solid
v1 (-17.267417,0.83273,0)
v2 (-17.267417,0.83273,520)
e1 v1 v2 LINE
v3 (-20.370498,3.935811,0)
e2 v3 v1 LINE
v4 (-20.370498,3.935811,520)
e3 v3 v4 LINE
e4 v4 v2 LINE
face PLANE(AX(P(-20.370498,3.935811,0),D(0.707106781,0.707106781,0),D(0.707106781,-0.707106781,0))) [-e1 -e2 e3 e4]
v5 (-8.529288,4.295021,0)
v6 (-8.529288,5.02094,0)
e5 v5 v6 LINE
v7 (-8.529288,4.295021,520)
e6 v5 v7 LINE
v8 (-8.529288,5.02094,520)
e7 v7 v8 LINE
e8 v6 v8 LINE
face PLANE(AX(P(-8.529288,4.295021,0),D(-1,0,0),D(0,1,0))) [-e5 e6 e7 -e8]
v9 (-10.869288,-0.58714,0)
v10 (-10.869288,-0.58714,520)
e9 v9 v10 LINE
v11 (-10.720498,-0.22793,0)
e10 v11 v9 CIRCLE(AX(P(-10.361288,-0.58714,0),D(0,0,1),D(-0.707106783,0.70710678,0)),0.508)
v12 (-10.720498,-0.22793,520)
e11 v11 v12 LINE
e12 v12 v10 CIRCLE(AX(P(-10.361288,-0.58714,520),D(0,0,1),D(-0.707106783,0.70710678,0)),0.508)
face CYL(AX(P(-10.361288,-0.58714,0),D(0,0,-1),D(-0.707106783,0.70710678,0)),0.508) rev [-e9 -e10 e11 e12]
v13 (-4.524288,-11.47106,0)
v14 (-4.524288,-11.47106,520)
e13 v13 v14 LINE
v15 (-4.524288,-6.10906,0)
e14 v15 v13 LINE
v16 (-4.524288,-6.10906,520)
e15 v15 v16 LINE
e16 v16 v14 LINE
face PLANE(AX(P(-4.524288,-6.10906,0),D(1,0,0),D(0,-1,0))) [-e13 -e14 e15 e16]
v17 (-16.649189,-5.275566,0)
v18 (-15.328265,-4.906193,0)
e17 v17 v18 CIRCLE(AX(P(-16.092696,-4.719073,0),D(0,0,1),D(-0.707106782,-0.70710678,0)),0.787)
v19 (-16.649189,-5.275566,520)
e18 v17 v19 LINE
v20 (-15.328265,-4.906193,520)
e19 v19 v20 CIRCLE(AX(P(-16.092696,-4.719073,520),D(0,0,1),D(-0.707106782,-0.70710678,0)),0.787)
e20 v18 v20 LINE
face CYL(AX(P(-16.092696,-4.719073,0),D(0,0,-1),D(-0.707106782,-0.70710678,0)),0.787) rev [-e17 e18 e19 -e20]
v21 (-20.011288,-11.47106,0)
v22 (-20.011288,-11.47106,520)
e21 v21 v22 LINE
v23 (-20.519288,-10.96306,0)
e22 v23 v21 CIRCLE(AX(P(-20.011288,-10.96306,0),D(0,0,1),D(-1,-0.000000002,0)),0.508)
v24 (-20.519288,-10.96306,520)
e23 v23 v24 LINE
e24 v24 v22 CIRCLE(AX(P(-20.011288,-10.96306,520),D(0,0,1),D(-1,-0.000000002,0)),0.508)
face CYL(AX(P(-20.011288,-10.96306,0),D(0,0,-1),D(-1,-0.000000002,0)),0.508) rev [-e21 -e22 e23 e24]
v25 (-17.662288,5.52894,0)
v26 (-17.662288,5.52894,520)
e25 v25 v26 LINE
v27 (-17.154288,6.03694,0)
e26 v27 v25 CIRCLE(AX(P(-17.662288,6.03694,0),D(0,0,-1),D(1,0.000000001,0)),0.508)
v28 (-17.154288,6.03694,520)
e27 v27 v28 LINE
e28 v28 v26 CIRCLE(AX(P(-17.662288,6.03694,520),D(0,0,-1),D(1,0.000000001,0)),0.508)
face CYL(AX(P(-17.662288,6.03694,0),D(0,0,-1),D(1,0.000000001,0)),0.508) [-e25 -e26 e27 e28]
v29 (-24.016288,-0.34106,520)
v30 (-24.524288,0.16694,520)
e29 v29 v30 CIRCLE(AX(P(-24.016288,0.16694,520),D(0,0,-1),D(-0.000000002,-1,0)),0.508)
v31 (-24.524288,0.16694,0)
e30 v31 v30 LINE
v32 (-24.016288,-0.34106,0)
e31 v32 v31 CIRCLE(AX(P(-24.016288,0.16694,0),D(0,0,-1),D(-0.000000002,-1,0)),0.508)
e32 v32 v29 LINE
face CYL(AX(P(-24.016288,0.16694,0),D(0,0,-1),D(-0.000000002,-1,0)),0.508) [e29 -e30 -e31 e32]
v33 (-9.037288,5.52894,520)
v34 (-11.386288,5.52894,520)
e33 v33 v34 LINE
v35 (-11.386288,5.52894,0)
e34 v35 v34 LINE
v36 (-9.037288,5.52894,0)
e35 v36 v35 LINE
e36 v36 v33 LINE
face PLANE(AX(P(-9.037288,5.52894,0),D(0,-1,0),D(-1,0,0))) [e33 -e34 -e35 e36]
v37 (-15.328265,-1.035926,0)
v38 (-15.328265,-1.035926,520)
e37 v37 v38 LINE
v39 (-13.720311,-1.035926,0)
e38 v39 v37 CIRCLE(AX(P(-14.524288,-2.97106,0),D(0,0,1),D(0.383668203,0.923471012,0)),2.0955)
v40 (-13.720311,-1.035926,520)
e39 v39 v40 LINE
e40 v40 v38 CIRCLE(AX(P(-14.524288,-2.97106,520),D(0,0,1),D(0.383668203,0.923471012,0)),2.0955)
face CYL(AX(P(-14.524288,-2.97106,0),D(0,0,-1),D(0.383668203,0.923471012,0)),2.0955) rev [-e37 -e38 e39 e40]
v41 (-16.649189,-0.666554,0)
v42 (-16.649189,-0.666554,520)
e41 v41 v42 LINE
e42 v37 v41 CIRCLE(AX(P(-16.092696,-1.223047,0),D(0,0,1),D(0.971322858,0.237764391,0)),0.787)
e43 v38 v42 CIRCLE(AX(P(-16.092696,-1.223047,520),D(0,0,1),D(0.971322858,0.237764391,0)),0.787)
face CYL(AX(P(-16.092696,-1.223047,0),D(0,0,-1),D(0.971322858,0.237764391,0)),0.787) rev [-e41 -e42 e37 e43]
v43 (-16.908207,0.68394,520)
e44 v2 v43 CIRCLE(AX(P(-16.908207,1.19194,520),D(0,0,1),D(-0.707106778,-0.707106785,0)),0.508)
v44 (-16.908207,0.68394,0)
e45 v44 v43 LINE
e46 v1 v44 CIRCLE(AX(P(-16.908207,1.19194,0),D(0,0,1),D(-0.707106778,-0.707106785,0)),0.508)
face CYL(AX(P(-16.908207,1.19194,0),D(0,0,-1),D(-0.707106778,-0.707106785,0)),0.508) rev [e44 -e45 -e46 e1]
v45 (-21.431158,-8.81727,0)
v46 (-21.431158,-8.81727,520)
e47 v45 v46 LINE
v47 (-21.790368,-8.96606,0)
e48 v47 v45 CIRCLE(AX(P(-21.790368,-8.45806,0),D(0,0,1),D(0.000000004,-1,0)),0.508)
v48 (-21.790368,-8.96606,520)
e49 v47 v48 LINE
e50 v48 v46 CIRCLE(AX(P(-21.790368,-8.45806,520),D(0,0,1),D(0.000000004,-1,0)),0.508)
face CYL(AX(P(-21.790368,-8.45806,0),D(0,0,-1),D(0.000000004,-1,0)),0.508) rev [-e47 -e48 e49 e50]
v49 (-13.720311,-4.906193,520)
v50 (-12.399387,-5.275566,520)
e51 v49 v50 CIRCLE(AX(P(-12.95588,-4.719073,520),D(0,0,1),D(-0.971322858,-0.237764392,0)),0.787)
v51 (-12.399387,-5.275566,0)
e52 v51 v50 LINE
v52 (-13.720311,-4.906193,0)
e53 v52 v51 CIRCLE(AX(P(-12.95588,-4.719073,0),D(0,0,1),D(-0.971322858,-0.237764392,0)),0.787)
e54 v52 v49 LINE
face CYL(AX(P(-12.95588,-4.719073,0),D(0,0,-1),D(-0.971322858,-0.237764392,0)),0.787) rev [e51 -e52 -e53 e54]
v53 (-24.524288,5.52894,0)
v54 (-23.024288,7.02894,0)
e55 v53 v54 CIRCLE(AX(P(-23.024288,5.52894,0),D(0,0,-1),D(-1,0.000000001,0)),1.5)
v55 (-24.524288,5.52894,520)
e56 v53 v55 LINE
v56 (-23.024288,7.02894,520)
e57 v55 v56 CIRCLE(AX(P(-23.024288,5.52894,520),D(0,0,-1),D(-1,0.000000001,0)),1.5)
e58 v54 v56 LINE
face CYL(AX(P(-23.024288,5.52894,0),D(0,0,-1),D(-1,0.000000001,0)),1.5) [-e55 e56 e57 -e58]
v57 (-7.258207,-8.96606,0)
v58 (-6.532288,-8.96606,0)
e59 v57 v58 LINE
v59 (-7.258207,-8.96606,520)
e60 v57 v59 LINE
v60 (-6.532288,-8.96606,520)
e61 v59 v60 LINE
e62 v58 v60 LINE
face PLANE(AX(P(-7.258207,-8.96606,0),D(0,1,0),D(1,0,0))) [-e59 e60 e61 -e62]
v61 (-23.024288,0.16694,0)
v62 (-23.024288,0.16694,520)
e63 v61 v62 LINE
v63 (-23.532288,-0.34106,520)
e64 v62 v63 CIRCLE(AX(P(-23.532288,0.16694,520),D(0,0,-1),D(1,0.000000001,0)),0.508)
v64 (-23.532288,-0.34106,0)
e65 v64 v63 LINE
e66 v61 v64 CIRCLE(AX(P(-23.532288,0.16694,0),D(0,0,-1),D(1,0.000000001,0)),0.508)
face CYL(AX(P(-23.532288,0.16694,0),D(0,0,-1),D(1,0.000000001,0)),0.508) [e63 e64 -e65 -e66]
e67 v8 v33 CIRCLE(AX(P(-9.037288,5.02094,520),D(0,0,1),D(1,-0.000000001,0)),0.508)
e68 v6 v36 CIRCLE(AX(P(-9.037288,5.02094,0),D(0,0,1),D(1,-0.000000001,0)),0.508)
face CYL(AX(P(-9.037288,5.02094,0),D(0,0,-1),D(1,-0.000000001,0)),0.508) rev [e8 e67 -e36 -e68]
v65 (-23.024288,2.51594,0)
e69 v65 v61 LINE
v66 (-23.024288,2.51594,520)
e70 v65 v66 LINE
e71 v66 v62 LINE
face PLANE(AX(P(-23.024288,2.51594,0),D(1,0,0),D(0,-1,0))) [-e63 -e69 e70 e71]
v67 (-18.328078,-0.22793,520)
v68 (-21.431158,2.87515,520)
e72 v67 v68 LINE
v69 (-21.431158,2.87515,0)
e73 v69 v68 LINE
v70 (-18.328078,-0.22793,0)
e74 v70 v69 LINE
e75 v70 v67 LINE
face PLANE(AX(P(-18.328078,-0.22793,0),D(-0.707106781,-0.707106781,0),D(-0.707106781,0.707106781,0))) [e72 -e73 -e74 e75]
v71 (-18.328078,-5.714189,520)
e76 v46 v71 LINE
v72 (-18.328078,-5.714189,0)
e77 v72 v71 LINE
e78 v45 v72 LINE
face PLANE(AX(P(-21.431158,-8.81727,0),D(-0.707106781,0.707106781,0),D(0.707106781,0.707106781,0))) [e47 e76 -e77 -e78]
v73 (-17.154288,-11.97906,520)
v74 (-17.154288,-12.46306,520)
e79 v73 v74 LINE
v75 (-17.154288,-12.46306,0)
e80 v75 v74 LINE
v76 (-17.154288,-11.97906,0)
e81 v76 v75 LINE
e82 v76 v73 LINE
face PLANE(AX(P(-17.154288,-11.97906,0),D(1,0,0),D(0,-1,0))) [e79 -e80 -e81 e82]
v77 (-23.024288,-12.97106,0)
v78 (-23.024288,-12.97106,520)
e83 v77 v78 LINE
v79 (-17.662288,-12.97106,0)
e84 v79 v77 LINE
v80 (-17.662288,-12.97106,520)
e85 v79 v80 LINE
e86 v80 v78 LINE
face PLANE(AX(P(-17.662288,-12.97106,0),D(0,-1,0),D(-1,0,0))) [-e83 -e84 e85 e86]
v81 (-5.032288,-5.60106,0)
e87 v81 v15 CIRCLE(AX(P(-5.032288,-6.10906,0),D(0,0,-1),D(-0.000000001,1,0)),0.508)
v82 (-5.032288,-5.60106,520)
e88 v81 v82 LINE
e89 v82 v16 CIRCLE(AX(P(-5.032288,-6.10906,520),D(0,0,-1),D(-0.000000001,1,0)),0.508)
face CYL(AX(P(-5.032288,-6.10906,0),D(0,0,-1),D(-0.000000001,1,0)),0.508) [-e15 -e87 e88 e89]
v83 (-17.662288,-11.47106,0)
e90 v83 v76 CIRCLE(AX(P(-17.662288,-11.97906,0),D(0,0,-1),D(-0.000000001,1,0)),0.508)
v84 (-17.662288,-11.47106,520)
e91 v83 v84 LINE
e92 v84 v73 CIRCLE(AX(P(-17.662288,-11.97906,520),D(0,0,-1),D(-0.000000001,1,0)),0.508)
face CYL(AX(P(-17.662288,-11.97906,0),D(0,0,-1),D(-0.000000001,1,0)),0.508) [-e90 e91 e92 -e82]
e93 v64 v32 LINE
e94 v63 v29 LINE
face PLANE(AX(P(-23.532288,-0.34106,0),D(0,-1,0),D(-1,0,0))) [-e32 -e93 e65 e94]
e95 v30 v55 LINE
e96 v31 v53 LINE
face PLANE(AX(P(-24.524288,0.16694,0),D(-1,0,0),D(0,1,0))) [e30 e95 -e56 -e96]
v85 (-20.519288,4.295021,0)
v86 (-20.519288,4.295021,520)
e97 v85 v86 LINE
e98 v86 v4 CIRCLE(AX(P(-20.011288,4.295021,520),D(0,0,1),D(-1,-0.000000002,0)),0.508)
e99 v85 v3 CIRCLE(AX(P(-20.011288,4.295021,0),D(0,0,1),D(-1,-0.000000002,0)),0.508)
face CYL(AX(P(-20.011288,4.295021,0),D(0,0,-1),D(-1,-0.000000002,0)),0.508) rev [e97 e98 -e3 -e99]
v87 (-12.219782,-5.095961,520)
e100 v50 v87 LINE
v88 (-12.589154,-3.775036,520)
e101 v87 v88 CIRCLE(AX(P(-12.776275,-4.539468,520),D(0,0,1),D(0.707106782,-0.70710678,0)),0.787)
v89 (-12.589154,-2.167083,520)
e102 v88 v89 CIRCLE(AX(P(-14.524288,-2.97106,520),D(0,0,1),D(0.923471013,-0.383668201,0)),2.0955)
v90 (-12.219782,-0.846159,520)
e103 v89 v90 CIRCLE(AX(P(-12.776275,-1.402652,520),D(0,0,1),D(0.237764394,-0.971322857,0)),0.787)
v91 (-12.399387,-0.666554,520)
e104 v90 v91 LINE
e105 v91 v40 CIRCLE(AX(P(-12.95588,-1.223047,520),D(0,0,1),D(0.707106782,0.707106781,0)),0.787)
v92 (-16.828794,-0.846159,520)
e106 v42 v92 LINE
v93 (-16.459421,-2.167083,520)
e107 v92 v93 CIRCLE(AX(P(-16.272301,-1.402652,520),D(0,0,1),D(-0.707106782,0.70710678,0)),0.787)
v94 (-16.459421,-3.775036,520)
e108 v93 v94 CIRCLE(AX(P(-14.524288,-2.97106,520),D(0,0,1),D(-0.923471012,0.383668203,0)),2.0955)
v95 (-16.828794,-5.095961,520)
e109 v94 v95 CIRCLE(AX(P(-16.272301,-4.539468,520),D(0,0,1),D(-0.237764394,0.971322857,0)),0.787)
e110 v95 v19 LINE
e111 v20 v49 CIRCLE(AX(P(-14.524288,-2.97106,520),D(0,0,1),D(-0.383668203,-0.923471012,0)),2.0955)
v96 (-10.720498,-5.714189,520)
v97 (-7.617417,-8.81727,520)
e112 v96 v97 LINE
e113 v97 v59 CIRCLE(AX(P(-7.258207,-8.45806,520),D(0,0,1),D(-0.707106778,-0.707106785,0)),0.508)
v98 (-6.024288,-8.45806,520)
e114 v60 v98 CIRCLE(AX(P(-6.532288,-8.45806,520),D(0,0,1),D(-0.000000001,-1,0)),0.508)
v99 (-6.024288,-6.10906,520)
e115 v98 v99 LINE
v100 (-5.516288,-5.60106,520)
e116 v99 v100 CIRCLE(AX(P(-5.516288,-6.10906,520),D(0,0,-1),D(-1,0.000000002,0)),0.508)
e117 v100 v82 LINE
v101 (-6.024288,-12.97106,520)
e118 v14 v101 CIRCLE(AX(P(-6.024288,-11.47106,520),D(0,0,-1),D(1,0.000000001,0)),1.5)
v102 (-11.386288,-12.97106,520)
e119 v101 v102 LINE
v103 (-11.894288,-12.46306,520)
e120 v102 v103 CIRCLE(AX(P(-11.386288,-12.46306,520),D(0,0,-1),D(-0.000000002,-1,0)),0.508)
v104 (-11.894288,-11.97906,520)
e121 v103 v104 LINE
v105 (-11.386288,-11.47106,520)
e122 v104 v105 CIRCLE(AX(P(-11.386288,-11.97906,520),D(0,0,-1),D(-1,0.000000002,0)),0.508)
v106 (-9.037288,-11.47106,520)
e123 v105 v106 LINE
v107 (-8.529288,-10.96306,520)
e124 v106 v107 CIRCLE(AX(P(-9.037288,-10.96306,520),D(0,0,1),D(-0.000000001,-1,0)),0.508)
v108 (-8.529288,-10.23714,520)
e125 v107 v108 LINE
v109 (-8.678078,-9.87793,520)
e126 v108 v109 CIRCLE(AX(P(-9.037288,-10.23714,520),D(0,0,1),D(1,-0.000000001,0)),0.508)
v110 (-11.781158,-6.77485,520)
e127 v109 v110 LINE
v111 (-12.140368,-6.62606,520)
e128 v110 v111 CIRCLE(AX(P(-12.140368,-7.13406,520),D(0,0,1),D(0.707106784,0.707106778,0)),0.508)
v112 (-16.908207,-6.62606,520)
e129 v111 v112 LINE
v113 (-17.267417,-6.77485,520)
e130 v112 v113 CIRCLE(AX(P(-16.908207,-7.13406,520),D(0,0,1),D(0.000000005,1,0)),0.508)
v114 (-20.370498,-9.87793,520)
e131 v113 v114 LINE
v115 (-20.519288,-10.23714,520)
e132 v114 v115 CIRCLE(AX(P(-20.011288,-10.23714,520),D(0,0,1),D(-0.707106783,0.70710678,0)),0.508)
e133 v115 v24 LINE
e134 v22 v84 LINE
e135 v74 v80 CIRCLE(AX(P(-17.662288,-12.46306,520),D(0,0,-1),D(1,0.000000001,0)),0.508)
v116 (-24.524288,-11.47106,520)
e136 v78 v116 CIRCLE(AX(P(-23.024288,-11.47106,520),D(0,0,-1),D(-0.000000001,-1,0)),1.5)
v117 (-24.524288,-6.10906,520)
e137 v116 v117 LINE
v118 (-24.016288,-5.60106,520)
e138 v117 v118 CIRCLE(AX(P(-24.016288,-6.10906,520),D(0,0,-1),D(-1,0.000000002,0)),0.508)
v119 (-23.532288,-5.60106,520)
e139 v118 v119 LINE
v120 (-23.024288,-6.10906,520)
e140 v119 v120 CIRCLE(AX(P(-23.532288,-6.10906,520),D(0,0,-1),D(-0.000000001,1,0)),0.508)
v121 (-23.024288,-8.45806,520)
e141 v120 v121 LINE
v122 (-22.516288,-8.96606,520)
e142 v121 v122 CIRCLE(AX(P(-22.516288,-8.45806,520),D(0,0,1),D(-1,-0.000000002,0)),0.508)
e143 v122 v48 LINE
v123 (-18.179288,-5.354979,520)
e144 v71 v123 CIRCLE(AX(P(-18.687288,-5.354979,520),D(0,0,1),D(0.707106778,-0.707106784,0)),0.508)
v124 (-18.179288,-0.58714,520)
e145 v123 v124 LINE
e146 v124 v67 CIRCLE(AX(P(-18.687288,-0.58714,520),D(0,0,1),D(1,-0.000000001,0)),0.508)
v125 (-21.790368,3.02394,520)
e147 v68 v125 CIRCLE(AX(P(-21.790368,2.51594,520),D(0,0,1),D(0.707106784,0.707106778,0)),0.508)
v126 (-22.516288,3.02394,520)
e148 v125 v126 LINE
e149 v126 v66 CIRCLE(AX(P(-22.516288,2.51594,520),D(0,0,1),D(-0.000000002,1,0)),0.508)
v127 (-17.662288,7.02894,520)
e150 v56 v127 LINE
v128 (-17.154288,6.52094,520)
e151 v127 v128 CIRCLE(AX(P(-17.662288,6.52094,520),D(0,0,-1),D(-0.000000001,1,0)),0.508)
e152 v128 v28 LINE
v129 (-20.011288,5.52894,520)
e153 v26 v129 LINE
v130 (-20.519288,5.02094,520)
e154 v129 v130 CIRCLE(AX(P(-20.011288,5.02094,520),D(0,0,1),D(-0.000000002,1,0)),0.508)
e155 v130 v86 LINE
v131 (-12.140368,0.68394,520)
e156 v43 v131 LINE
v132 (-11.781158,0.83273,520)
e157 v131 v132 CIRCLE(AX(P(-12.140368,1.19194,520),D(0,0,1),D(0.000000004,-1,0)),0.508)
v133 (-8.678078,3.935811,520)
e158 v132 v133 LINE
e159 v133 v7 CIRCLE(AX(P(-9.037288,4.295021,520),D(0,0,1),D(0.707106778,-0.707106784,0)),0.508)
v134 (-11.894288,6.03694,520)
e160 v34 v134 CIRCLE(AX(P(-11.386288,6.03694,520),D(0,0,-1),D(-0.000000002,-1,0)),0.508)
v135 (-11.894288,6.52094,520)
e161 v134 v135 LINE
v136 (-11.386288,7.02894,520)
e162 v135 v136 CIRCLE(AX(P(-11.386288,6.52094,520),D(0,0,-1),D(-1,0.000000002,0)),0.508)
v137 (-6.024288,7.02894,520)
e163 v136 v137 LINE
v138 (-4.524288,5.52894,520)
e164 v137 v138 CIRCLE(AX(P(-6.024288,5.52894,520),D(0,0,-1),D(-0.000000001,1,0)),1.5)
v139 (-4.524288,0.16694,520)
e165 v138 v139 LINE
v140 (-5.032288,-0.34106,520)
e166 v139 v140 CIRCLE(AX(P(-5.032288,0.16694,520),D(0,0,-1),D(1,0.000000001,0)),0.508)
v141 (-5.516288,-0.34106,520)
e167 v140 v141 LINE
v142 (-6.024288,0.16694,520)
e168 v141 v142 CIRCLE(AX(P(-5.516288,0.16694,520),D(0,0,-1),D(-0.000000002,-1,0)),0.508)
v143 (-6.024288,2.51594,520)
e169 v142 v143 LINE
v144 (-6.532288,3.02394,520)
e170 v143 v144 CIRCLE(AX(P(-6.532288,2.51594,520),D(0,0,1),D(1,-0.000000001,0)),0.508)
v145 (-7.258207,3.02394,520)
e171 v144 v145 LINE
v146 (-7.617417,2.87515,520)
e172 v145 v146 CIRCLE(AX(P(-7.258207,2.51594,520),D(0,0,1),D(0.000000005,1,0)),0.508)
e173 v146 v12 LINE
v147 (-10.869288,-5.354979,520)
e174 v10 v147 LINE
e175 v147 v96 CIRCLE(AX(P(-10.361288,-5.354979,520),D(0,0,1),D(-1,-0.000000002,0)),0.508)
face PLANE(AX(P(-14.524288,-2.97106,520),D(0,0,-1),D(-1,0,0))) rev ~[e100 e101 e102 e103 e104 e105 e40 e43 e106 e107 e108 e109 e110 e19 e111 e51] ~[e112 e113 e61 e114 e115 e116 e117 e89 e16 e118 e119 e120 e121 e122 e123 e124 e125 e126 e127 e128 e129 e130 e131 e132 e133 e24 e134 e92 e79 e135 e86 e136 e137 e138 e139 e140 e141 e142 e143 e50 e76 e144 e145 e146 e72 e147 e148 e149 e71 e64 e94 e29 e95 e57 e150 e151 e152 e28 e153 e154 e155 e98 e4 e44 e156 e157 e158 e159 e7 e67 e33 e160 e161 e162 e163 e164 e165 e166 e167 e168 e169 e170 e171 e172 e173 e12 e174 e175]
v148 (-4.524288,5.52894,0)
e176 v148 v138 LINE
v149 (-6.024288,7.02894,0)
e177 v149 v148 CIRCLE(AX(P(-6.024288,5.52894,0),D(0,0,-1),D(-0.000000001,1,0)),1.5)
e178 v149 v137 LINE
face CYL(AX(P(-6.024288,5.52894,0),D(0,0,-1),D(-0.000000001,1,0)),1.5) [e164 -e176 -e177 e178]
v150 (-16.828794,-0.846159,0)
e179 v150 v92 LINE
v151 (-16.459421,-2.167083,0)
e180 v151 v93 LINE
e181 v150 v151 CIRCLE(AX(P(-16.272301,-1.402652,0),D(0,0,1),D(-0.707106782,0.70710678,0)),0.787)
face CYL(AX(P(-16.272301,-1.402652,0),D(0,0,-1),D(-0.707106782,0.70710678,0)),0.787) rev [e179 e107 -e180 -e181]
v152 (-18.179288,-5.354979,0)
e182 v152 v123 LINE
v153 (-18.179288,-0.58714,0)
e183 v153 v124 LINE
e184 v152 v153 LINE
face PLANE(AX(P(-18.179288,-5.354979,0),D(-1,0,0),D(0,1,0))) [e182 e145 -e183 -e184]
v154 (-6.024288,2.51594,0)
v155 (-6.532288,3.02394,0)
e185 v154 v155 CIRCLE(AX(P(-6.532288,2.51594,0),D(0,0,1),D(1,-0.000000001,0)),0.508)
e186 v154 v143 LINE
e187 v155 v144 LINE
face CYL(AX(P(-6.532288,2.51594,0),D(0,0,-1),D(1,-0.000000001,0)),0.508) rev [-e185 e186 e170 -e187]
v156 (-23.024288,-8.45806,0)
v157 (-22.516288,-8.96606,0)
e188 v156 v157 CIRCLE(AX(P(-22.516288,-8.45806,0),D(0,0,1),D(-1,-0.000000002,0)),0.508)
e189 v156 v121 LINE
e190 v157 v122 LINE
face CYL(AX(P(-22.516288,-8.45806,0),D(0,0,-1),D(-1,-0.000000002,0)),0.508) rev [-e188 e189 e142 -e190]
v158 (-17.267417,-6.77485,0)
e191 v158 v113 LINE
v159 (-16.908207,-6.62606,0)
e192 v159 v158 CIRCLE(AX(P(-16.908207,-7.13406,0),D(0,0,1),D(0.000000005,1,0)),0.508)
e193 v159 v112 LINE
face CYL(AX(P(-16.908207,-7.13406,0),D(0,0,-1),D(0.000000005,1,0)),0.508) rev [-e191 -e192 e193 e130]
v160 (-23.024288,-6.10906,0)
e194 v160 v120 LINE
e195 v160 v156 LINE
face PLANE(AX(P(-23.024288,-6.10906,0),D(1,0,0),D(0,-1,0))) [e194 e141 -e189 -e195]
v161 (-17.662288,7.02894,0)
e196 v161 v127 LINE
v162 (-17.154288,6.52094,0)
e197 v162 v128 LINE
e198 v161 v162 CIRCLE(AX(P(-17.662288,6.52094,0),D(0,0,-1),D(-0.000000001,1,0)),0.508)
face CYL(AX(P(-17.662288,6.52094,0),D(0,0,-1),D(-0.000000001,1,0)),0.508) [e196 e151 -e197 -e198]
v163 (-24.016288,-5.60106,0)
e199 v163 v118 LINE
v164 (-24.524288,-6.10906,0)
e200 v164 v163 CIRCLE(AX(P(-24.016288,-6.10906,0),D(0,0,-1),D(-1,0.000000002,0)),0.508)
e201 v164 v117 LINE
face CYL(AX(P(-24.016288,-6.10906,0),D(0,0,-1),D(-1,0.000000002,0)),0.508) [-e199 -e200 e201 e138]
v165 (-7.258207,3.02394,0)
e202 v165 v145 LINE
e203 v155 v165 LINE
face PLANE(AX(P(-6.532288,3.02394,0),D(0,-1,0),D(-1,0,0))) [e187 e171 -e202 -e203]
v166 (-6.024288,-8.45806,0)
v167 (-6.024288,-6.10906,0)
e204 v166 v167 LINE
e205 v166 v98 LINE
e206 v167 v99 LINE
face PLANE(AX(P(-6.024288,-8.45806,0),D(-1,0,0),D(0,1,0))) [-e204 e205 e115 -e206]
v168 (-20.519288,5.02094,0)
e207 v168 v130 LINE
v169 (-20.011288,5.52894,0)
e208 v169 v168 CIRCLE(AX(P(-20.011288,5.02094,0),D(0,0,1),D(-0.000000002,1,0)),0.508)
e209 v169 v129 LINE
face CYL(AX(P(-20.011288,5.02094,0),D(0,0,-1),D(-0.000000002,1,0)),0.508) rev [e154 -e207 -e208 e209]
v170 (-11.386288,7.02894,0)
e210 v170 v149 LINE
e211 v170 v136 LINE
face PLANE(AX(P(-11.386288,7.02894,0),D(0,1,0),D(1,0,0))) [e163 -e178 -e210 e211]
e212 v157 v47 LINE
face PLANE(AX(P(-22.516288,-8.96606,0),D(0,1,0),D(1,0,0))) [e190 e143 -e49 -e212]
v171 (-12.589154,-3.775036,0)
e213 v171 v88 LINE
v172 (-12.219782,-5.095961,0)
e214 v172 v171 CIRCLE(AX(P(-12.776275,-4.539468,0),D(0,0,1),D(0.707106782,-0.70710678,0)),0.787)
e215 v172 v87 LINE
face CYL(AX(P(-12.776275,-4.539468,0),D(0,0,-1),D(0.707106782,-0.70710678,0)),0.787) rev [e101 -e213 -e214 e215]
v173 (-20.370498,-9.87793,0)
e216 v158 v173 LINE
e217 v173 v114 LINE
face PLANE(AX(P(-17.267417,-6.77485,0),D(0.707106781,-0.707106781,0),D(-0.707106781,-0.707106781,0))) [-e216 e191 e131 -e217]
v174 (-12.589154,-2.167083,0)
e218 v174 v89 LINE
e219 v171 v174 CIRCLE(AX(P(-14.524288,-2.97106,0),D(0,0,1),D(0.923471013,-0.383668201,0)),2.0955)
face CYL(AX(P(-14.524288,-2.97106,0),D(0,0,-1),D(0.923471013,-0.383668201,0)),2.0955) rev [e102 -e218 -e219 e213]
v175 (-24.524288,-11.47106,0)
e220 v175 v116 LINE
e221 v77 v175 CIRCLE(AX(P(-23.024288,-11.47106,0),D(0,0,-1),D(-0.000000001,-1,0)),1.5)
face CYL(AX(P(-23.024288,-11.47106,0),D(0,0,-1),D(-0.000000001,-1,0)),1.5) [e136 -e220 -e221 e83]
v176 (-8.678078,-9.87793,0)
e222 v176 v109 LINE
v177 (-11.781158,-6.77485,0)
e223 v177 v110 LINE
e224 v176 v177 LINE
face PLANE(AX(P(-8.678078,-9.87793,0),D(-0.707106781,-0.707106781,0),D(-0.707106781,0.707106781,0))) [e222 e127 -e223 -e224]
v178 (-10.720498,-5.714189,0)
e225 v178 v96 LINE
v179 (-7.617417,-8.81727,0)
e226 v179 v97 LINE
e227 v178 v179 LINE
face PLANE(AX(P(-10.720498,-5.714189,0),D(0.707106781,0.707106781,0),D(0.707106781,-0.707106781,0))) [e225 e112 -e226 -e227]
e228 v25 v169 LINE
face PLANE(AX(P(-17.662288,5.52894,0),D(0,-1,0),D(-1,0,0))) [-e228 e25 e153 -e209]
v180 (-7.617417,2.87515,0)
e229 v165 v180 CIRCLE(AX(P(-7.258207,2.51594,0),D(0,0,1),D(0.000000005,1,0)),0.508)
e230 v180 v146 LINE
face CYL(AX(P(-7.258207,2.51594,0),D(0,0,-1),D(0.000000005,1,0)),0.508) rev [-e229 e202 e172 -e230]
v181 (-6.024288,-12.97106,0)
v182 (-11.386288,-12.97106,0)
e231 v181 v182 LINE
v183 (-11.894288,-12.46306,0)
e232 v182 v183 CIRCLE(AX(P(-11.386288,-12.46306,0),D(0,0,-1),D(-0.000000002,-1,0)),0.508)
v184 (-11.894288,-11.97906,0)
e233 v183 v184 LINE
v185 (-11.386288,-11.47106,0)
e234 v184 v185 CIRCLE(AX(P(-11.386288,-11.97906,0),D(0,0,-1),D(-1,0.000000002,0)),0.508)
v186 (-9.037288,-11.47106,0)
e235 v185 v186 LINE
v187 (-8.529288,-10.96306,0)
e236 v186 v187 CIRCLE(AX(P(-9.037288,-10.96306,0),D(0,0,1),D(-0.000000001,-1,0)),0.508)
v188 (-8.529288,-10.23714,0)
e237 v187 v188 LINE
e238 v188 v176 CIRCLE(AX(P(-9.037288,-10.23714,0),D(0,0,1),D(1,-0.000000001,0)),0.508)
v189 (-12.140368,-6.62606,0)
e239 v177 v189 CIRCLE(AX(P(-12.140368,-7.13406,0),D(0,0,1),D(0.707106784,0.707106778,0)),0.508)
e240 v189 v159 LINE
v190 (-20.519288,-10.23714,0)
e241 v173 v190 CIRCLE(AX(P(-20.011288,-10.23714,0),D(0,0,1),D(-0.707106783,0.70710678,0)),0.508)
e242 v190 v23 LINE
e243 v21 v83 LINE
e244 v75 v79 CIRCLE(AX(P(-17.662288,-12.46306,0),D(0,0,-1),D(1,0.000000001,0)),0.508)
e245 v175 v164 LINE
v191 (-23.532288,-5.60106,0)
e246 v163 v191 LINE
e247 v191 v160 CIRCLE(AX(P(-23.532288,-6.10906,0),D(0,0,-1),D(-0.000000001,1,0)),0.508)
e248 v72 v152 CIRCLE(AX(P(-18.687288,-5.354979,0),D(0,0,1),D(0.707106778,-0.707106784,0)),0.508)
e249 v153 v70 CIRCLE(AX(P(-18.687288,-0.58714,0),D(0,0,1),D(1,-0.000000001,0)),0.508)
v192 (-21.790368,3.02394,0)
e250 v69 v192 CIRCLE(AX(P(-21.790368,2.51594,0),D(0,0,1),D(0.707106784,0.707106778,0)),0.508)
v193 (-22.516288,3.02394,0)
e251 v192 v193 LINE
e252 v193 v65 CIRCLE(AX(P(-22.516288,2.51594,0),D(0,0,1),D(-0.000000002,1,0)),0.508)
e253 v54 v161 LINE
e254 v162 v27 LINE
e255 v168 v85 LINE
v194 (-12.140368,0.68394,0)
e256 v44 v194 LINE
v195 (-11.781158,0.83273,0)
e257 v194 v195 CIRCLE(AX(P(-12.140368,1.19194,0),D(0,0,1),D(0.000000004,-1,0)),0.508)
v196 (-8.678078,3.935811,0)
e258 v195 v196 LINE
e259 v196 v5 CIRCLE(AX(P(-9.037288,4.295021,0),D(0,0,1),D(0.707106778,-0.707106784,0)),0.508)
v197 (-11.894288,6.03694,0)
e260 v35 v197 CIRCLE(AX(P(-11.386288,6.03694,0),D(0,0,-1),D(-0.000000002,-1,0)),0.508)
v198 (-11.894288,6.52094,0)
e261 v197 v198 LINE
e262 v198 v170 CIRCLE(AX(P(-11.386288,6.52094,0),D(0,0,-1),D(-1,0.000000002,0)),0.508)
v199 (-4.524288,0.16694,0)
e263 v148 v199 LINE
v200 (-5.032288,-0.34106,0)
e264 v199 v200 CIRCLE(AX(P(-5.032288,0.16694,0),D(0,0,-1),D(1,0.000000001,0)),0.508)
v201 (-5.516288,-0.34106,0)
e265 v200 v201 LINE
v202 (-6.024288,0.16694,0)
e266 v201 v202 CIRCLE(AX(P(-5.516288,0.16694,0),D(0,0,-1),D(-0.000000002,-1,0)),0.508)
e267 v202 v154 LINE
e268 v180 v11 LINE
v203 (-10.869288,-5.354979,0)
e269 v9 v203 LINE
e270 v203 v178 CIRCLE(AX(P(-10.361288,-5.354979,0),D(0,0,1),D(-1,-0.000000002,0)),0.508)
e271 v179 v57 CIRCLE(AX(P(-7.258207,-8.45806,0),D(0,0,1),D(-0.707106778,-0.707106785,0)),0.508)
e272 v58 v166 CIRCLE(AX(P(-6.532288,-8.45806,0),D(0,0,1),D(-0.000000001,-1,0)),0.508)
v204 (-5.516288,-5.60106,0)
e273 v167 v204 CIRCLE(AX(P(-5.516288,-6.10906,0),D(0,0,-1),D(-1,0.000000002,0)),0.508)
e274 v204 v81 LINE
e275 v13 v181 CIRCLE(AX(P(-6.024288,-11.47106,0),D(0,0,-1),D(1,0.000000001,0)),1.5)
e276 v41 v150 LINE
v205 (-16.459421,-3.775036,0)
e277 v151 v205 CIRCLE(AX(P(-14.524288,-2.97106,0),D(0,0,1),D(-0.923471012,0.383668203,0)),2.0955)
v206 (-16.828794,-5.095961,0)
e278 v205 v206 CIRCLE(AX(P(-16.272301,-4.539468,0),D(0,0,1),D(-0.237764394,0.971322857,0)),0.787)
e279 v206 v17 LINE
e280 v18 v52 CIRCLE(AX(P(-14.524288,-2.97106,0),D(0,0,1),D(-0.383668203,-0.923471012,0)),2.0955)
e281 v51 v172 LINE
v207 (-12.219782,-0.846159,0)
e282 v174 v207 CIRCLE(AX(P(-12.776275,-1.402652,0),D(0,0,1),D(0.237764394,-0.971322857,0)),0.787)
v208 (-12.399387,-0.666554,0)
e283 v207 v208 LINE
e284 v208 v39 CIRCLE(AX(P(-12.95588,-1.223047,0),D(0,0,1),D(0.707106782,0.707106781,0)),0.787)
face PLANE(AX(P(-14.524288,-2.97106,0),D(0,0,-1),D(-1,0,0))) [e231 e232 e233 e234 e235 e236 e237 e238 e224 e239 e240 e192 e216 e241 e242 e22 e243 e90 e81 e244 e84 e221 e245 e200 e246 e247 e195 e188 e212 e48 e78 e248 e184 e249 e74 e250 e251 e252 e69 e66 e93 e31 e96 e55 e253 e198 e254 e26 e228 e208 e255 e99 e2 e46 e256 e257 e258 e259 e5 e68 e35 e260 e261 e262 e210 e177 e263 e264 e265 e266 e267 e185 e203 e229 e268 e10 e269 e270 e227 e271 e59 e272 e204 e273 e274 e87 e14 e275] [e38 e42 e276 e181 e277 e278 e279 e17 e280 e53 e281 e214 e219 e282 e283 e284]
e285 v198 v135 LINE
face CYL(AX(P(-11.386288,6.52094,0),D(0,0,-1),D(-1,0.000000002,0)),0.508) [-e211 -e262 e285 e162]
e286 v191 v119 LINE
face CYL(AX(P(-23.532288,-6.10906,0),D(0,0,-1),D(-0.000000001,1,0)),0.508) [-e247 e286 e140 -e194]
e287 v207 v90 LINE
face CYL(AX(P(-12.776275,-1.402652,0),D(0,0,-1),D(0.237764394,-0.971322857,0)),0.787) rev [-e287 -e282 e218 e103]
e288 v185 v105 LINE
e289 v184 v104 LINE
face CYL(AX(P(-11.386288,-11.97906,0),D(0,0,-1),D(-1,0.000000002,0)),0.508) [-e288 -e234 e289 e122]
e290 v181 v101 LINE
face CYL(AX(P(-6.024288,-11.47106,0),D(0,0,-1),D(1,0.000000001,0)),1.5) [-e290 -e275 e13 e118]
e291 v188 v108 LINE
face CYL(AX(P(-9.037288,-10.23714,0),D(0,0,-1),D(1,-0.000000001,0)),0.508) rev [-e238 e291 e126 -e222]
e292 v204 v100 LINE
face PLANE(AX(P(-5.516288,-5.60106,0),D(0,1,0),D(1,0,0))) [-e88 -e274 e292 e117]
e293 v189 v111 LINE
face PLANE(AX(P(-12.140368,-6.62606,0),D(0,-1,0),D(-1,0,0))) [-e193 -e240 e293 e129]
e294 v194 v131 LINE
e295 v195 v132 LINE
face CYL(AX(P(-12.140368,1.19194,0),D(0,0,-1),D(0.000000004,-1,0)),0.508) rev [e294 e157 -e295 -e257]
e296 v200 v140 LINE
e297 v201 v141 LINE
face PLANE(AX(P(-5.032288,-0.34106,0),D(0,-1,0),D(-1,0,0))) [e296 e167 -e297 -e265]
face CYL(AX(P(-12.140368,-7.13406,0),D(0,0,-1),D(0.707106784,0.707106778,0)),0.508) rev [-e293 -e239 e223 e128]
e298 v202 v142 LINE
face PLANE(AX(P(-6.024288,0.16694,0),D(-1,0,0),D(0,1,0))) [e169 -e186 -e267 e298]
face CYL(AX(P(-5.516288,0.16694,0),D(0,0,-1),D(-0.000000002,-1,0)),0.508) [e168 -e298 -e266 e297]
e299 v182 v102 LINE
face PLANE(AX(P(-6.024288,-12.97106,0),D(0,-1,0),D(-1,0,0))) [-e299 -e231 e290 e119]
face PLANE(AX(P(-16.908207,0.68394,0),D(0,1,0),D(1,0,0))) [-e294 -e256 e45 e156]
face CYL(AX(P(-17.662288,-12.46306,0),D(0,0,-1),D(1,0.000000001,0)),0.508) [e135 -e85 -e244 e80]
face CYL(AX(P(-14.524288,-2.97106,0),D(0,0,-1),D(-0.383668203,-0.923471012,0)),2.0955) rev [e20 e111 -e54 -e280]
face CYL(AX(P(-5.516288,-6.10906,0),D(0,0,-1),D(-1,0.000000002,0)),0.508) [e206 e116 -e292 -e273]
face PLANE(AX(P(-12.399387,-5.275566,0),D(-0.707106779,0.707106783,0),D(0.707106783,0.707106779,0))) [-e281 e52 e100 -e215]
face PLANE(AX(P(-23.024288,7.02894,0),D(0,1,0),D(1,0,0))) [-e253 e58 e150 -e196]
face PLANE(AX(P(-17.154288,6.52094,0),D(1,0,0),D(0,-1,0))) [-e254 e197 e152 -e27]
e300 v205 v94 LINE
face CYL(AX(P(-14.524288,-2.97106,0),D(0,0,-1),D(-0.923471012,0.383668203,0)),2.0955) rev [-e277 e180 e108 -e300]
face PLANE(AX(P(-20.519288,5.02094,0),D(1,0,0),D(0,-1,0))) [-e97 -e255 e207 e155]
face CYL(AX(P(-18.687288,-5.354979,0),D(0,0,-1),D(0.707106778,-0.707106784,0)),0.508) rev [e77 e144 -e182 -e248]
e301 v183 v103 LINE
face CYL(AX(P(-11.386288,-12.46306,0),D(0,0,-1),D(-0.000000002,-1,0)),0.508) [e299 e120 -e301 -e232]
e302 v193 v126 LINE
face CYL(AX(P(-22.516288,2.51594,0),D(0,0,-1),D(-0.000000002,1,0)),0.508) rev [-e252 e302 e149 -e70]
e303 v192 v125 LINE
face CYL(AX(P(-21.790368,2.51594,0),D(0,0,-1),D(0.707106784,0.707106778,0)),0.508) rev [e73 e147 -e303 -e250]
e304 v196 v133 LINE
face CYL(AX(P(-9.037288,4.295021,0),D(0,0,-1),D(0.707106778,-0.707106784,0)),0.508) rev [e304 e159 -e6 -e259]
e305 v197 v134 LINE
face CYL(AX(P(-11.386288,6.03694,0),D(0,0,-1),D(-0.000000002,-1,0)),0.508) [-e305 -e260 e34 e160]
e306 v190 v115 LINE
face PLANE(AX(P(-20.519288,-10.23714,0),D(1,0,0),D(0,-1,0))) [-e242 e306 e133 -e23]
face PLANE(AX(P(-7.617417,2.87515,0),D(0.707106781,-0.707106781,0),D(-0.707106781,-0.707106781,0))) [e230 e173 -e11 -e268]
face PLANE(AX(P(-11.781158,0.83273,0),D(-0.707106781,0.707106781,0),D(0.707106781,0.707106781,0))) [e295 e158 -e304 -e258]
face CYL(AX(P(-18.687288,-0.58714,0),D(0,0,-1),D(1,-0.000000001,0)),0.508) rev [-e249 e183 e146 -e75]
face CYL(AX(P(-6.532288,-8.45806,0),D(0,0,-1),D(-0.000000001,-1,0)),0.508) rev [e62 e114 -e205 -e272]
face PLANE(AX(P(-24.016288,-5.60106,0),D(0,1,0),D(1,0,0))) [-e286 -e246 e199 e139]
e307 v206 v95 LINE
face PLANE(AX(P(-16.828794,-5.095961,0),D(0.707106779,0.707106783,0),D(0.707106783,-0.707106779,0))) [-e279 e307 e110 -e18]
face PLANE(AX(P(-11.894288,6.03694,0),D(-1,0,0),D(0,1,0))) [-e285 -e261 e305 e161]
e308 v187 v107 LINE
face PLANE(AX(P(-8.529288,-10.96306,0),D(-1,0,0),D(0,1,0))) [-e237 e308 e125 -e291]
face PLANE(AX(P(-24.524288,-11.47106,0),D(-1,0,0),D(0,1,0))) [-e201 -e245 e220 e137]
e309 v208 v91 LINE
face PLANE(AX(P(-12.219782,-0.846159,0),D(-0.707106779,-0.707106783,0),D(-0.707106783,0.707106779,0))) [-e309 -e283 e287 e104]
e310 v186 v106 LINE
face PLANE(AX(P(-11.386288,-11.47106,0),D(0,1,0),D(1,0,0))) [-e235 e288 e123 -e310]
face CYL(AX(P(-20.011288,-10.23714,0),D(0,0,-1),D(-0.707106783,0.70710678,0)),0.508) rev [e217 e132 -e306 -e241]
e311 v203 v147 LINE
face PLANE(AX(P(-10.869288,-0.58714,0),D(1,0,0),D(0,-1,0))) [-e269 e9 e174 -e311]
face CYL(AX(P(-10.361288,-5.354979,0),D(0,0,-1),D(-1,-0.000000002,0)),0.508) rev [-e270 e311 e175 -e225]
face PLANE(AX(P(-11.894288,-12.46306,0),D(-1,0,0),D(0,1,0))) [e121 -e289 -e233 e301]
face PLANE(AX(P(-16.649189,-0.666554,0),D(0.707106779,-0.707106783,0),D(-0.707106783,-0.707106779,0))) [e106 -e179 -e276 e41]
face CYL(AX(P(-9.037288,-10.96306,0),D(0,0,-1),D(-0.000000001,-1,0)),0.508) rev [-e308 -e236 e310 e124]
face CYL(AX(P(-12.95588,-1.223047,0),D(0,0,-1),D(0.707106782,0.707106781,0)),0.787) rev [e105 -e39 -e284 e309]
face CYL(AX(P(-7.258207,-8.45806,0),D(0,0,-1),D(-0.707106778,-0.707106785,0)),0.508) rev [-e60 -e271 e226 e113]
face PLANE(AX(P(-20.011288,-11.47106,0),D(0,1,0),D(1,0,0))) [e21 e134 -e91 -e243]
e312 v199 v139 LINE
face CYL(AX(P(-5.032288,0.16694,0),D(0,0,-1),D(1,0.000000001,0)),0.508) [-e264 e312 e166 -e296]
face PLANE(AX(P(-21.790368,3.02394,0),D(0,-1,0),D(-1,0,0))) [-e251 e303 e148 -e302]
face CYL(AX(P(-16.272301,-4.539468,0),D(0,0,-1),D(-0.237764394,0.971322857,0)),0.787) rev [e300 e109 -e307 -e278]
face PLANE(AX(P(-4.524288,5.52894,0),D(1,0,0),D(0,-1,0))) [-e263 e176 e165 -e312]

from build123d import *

# Parameters (mm, degrees)
EXTRUDE1_DEPTH = 520


with BuildPart() as part:
    # Sketch1 → Extrude1 (new body)
    with BuildSketch(Plane.XY):
        with BuildLine():
            Line((-5.032287798, -0.341059771), (-5.516287798, -0.341059771))
            ThreePointArc((-5.516287798, -0.341059771), (-5.875498042, -0.192270016), (-6.024287798, 0.166940229))
            Line((-6.024287798, 0.166940229), (-6.024287798, 2.515940229))
            ThreePointArc((-6.024287798, 2.515940229), (-6.173077553, 2.875150474), (-6.532287798, 3.023940229))
            Line((-6.532287798, 3.023940229), (-7.258207136, 3.023940229))
            ThreePointArc((-7.258207136, 3.023940229), (-7.45261032, 2.985271032), (-7.617417381, 2.875150474))
            Line((-7.617417381, 2.875150474), (-10.720498042, -0.227930187))
            ThreePointArc((-10.720498042, -0.227930187), (-10.8306186, -0.392737249), (-10.869287798, -0.587140432))
            Line((-10.869287798, -0.587140432), (-10.869287798, -5.354979109))
            ThreePointArc((-10.869287798, -5.354979109), (-10.8306186, -5.549382293), (-10.720498042, -5.714189354))
            Line((-10.720498042, -5.714189354), (-7.617417381, -8.817270016))
            ThreePointArc((-7.617417381, -8.817270016), (-7.45261032, -8.927390573), (-7.258207136, -8.966059771))
            Line((-7.258207136, -8.966059771), (-6.532287798, -8.966059771))
            ThreePointArc((-6.532287798, -8.966059771), (-6.173077553, -8.817270016), (-6.024287798, -8.458059771))
            Line((-6.024287798, -8.458059771), (-6.024287798, -6.109059771))
            ThreePointArc((-6.024287798, -6.109059771), (-5.875498042, -5.749849526), (-5.516287798, -5.601059771))
            Line((-5.516287798, -5.601059771), (-5.032287798, -5.601059771))
            ThreePointArc((-5.032287798, -5.601059771), (-4.673077553, -5.749849526), (-4.524287798, -6.109059771))
            Line((-4.524287798, -6.109059771), (-4.524287798, -11.471059771))
            ThreePointArc((-4.524287798, -11.471059771), (-4.963627626, -12.531719943), (-6.024287798, -12.971059771))
            Line((-6.024287798, -12.971059771), (-11.386287798, -12.971059771))
            ThreePointArc((-11.386287798, -12.971059771), (-11.745498042, -12.822270016), (-11.894287798, -12.463059771))
            Line((-11.894287798, -12.463059771), (-11.894287798, -11.979059771))
            ThreePointArc((-11.894287798, -11.979059771), (-11.745498042, -11.619849526), (-11.386287798, -11.471059771))
            Line((-11.386287798, -11.471059771), (-9.037287798, -11.471059771))
            ThreePointArc((-9.037287798, -11.471059771), (-8.678077553, -11.322270016), (-8.529287798, -10.963059771))
            Line((-8.529287798, -10.963059771), (-8.529287798, -10.237140432))
            ThreePointArc((-8.529287798, -10.237140432), (-8.567956995, -10.042737249), (-8.678077553, -9.877930187))
            Line((-8.678077553, -9.877930187), (-11.781158214, -6.774849526))
            ThreePointArc((-11.781158214, -6.774849526), (-11.945965275, -6.664728968), (-12.140368459, -6.626059771))
            Line((-12.140368459, -6.626059771), (-16.908207136, -6.626059771))
            ThreePointArc((-16.908207136, -6.626059771), (-17.10261032, -6.664728968), (-17.267417381, -6.774849526))
            Line((-17.267417381, -6.774849526), (-20.370498042, -9.877930187))
            ThreePointArc((-20.370498042, -9.877930187), (-20.4806186, -10.042737249), (-20.519287798, -10.237140432))
            Line((-20.519287798, -10.237140432), (-20.519287798, -10.963059771))
            ThreePointArc((-20.519287798, -10.963059771), (-20.370498042, -11.322270016), (-20.011287798, -11.471059771))
            Line((-20.011287798, -11.471059771), (-17.662287798, -11.471059771))
            ThreePointArc((-17.662287798, -11.471059771), (-17.303077553, -11.619849526), (-17.154287798, -11.979059771))
            Line((-17.154287798, -11.979059771), (-17.154287798, -12.463059771))
            ThreePointArc((-17.154287798, -12.463059771), (-17.303077553, -12.822270016), (-17.662287798, -12.971059771))
            Line((-17.662287798, -12.971059771), (-23.024287798, -12.971059771))
            ThreePointArc((-23.024287798, -12.971059771), (-24.084947969, -12.531719943), (-24.524287798, -11.471059771))
            Line((-24.524287798, -11.471059771), (-24.524287798, -6.109059771))
            ThreePointArc((-24.524287798, -6.109059771), (-24.375498042, -5.749849526), (-24.016287798, -5.601059771))
            Line((-24.016287798, -5.601059771), (-23.532287798, -5.601059771))
            ThreePointArc((-23.532287798, -5.601059771), (-23.173077553, -5.749849526), (-23.024287798, -6.109059771))
            Line((-23.024287798, -6.109059771), (-23.024287798, -8.458059771))
            ThreePointArc((-23.024287798, -8.458059771), (-22.875498042, -8.817270016), (-22.516287798, -8.966059771))
            Line((-22.516287798, -8.966059771), (-21.790368459, -8.966059771))
            ThreePointArc((-21.790368459, -8.966059771), (-21.595965275, -8.927390573), (-21.431158214, -8.817270016))
            Line((-21.431158214, -8.817270016), (-18.328077553, -5.714189354))
            ThreePointArc((-18.328077553, -5.714189354), (-18.217956995, -5.549382293), (-18.179287798, -5.354979109))
            Line((-18.179287798, -5.354979109), (-18.179287798, -0.587140432))
            ThreePointArc((-18.179287798, -0.587140432), (-18.217956995, -0.392737249), (-18.328077553, -0.227930187))
            Line((-18.328077553, -0.227930187), (-21.431158214, 2.875150474))
            ThreePointArc((-21.431158214, 2.875150474), (-21.595965275, 2.985271032), (-21.790368459, 3.023940229))
            Line((-21.790368459, 3.023940229), (-22.516287798, 3.023940229))
            ThreePointArc((-22.516287798, 3.023940229), (-22.875498042, 2.875150474), (-23.024287798, 2.515940229))
            Line((-23.024287798, 2.515940229), (-23.024287798, 0.166940229))
            ThreePointArc((-23.024287798, 0.166940229), (-23.173077553, -0.192270016), (-23.532287798, -0.341059771))
            Line((-23.532287798, -0.341059771), (-24.016287798, -0.341059771))
            ThreePointArc((-24.016287798, -0.341059771), (-24.375498042, -0.192270016), (-24.524287798, 0.166940229))
            Line((-24.524287798, 0.166940229), (-24.524287798, 5.528940229))
            ThreePointArc((-24.524287798, 5.528940229), (-24.084947969, 6.589600401), (-23.024287798, 7.028940229))
            Line((-23.024287798, 7.028940229), (-17.662287798, 7.028940229))
            ThreePointArc((-17.662287798, 7.028940229), (-17.303077553, 6.880150474), (-17.154287798, 6.520940229))
            Line((-17.154287798, 6.520940229), (-17.154287798, 6.036940229))
            ThreePointArc((-17.154287798, 6.036940229), (-17.303077553, 5.677729984), (-17.662287798, 5.528940229))
            Line((-17.662287798, 5.528940229), (-20.011287798, 5.528940229))
            ThreePointArc((-20.011287798, 5.528940229), (-20.370498042, 5.380150474), (-20.519287798, 5.020940229))
            Line((-20.519287798, 5.020940229), (-20.519287798, 4.295020891))
            ThreePointArc((-20.519287798, 4.295020891), (-20.4806186, 4.100617707), (-20.370498042, 3.935810646))
            Line((-20.370498042, 3.935810646), (-17.267417381, 0.832729984))
            ThreePointArc((-17.267417381, 0.832729984), (-17.10261032, 0.722609427), (-16.908207136, 0.683940229))
            Line((-16.908207136, 0.683940229), (-12.140368459, 0.683940229))
            ThreePointArc((-12.140368459, 0.683940229), (-11.945965275, 0.722609427), (-11.781158214, 0.832729984))
            Line((-11.781158214, 0.832729984), (-8.678077553, 3.935810646))
            ThreePointArc((-8.678077553, 3.935810646), (-8.567956995, 4.100617707), (-8.529287798, 4.295020891))
            Line((-8.529287798, 4.295020891), (-8.529287798, 5.020940229))
            ThreePointArc((-8.529287798, 5.020940229), (-8.678077553, 5.380150474), (-9.037287798, 5.528940229))
            Line((-9.037287798, 5.528940229), (-11.386287798, 5.528940229))
            ThreePointArc((-11.386287798, 5.528940229), (-11.745498042, 5.677729984), (-11.894287798, 6.036940229))
            Line((-11.894287798, 6.036940229), (-11.894287798, 6.520940229))
            ThreePointArc((-11.894287798, 6.520940229), (-11.745498042, 6.880150474), (-11.386287798, 7.028940229))
            Line((-11.386287798, 7.028940229), (-6.024287798, 7.028940229))
            ThreePointArc((-6.024287798, 7.028940229), (-4.963627626, 6.589600401), (-4.524287798, 5.528940229))
            Line((-4.524287798, 5.528940229), (-4.524287798, 0.166940229))
            ThreePointArc((-4.524287798, 0.166940229), (-4.673077553, -0.192270016), (-5.032287798, -0.341059771))
        make_face()
        with BuildLine():
            Line((-12.399386954, -5.275565737), (-12.219781831, -5.095960615))
            ThreePointArc((-12.219781831, -5.095960615), (-12.018349781, -4.327527582), (-12.589154291, -3.775036489))
            ThreePointArc((-12.589154291, -3.775036489), (-12.428787798, -2.971059771), (-12.589154291, -2.167083053))
            ThreePointArc((-12.589154291, -2.167083053), (-12.018349781, -1.61459196), (-12.219781831, -0.846158927))
            Line((-12.219781831, -0.846158927), (-12.399386954, -0.666553805))
            ThreePointArc((-12.399386954, -0.666553805), (-13.167819987, -0.465121754), (-13.72031108, -1.035926265))
            ThreePointArc((-13.72031108, -1.035926265), (-14.524287798, -0.875559771), (-15.328264516, -1.035926265))
            ThreePointArc((-15.328264516, -1.035926265), (-15.880755608, -0.465121754), (-16.649188641, -0.666553805))
            Line((-16.649188641, -0.666553805), (-16.828793764, -0.846158927))
            ThreePointArc((-16.828793764, -0.846158927), (-17.030225814, -1.61459196), (-16.459421304, -2.167083053))
            ThreePointArc((-16.459421304, -2.167083053), (-16.619787798, -2.971059771), (-16.459421304, -3.775036489))
            ThreePointArc((-16.459421304, -3.775036489), (-17.030225814, -4.327527582), (-16.828793764, -5.095960615))
            Line((-16.828793764, -5.095960615), (-16.649188641, -5.275565737))
            ThreePointArc((-16.649188641, -5.275565737), (-15.880755608, -5.476997788), (-15.328264516, -4.906193277))
            ThreePointArc((-15.328264516, -4.906193277), (-14.524287798, -5.066559771), (-13.72031108, -4.906193277))
            ThreePointArc((-13.72031108, -4.906193277), (-13.167819987, -5.476997788), (-12.399386954, -5.275565737))
        make_face(mode=Mode.SUBTRACT)
    extrude(amount=EXTRUDE1_DEPTH)


solid = part.part
